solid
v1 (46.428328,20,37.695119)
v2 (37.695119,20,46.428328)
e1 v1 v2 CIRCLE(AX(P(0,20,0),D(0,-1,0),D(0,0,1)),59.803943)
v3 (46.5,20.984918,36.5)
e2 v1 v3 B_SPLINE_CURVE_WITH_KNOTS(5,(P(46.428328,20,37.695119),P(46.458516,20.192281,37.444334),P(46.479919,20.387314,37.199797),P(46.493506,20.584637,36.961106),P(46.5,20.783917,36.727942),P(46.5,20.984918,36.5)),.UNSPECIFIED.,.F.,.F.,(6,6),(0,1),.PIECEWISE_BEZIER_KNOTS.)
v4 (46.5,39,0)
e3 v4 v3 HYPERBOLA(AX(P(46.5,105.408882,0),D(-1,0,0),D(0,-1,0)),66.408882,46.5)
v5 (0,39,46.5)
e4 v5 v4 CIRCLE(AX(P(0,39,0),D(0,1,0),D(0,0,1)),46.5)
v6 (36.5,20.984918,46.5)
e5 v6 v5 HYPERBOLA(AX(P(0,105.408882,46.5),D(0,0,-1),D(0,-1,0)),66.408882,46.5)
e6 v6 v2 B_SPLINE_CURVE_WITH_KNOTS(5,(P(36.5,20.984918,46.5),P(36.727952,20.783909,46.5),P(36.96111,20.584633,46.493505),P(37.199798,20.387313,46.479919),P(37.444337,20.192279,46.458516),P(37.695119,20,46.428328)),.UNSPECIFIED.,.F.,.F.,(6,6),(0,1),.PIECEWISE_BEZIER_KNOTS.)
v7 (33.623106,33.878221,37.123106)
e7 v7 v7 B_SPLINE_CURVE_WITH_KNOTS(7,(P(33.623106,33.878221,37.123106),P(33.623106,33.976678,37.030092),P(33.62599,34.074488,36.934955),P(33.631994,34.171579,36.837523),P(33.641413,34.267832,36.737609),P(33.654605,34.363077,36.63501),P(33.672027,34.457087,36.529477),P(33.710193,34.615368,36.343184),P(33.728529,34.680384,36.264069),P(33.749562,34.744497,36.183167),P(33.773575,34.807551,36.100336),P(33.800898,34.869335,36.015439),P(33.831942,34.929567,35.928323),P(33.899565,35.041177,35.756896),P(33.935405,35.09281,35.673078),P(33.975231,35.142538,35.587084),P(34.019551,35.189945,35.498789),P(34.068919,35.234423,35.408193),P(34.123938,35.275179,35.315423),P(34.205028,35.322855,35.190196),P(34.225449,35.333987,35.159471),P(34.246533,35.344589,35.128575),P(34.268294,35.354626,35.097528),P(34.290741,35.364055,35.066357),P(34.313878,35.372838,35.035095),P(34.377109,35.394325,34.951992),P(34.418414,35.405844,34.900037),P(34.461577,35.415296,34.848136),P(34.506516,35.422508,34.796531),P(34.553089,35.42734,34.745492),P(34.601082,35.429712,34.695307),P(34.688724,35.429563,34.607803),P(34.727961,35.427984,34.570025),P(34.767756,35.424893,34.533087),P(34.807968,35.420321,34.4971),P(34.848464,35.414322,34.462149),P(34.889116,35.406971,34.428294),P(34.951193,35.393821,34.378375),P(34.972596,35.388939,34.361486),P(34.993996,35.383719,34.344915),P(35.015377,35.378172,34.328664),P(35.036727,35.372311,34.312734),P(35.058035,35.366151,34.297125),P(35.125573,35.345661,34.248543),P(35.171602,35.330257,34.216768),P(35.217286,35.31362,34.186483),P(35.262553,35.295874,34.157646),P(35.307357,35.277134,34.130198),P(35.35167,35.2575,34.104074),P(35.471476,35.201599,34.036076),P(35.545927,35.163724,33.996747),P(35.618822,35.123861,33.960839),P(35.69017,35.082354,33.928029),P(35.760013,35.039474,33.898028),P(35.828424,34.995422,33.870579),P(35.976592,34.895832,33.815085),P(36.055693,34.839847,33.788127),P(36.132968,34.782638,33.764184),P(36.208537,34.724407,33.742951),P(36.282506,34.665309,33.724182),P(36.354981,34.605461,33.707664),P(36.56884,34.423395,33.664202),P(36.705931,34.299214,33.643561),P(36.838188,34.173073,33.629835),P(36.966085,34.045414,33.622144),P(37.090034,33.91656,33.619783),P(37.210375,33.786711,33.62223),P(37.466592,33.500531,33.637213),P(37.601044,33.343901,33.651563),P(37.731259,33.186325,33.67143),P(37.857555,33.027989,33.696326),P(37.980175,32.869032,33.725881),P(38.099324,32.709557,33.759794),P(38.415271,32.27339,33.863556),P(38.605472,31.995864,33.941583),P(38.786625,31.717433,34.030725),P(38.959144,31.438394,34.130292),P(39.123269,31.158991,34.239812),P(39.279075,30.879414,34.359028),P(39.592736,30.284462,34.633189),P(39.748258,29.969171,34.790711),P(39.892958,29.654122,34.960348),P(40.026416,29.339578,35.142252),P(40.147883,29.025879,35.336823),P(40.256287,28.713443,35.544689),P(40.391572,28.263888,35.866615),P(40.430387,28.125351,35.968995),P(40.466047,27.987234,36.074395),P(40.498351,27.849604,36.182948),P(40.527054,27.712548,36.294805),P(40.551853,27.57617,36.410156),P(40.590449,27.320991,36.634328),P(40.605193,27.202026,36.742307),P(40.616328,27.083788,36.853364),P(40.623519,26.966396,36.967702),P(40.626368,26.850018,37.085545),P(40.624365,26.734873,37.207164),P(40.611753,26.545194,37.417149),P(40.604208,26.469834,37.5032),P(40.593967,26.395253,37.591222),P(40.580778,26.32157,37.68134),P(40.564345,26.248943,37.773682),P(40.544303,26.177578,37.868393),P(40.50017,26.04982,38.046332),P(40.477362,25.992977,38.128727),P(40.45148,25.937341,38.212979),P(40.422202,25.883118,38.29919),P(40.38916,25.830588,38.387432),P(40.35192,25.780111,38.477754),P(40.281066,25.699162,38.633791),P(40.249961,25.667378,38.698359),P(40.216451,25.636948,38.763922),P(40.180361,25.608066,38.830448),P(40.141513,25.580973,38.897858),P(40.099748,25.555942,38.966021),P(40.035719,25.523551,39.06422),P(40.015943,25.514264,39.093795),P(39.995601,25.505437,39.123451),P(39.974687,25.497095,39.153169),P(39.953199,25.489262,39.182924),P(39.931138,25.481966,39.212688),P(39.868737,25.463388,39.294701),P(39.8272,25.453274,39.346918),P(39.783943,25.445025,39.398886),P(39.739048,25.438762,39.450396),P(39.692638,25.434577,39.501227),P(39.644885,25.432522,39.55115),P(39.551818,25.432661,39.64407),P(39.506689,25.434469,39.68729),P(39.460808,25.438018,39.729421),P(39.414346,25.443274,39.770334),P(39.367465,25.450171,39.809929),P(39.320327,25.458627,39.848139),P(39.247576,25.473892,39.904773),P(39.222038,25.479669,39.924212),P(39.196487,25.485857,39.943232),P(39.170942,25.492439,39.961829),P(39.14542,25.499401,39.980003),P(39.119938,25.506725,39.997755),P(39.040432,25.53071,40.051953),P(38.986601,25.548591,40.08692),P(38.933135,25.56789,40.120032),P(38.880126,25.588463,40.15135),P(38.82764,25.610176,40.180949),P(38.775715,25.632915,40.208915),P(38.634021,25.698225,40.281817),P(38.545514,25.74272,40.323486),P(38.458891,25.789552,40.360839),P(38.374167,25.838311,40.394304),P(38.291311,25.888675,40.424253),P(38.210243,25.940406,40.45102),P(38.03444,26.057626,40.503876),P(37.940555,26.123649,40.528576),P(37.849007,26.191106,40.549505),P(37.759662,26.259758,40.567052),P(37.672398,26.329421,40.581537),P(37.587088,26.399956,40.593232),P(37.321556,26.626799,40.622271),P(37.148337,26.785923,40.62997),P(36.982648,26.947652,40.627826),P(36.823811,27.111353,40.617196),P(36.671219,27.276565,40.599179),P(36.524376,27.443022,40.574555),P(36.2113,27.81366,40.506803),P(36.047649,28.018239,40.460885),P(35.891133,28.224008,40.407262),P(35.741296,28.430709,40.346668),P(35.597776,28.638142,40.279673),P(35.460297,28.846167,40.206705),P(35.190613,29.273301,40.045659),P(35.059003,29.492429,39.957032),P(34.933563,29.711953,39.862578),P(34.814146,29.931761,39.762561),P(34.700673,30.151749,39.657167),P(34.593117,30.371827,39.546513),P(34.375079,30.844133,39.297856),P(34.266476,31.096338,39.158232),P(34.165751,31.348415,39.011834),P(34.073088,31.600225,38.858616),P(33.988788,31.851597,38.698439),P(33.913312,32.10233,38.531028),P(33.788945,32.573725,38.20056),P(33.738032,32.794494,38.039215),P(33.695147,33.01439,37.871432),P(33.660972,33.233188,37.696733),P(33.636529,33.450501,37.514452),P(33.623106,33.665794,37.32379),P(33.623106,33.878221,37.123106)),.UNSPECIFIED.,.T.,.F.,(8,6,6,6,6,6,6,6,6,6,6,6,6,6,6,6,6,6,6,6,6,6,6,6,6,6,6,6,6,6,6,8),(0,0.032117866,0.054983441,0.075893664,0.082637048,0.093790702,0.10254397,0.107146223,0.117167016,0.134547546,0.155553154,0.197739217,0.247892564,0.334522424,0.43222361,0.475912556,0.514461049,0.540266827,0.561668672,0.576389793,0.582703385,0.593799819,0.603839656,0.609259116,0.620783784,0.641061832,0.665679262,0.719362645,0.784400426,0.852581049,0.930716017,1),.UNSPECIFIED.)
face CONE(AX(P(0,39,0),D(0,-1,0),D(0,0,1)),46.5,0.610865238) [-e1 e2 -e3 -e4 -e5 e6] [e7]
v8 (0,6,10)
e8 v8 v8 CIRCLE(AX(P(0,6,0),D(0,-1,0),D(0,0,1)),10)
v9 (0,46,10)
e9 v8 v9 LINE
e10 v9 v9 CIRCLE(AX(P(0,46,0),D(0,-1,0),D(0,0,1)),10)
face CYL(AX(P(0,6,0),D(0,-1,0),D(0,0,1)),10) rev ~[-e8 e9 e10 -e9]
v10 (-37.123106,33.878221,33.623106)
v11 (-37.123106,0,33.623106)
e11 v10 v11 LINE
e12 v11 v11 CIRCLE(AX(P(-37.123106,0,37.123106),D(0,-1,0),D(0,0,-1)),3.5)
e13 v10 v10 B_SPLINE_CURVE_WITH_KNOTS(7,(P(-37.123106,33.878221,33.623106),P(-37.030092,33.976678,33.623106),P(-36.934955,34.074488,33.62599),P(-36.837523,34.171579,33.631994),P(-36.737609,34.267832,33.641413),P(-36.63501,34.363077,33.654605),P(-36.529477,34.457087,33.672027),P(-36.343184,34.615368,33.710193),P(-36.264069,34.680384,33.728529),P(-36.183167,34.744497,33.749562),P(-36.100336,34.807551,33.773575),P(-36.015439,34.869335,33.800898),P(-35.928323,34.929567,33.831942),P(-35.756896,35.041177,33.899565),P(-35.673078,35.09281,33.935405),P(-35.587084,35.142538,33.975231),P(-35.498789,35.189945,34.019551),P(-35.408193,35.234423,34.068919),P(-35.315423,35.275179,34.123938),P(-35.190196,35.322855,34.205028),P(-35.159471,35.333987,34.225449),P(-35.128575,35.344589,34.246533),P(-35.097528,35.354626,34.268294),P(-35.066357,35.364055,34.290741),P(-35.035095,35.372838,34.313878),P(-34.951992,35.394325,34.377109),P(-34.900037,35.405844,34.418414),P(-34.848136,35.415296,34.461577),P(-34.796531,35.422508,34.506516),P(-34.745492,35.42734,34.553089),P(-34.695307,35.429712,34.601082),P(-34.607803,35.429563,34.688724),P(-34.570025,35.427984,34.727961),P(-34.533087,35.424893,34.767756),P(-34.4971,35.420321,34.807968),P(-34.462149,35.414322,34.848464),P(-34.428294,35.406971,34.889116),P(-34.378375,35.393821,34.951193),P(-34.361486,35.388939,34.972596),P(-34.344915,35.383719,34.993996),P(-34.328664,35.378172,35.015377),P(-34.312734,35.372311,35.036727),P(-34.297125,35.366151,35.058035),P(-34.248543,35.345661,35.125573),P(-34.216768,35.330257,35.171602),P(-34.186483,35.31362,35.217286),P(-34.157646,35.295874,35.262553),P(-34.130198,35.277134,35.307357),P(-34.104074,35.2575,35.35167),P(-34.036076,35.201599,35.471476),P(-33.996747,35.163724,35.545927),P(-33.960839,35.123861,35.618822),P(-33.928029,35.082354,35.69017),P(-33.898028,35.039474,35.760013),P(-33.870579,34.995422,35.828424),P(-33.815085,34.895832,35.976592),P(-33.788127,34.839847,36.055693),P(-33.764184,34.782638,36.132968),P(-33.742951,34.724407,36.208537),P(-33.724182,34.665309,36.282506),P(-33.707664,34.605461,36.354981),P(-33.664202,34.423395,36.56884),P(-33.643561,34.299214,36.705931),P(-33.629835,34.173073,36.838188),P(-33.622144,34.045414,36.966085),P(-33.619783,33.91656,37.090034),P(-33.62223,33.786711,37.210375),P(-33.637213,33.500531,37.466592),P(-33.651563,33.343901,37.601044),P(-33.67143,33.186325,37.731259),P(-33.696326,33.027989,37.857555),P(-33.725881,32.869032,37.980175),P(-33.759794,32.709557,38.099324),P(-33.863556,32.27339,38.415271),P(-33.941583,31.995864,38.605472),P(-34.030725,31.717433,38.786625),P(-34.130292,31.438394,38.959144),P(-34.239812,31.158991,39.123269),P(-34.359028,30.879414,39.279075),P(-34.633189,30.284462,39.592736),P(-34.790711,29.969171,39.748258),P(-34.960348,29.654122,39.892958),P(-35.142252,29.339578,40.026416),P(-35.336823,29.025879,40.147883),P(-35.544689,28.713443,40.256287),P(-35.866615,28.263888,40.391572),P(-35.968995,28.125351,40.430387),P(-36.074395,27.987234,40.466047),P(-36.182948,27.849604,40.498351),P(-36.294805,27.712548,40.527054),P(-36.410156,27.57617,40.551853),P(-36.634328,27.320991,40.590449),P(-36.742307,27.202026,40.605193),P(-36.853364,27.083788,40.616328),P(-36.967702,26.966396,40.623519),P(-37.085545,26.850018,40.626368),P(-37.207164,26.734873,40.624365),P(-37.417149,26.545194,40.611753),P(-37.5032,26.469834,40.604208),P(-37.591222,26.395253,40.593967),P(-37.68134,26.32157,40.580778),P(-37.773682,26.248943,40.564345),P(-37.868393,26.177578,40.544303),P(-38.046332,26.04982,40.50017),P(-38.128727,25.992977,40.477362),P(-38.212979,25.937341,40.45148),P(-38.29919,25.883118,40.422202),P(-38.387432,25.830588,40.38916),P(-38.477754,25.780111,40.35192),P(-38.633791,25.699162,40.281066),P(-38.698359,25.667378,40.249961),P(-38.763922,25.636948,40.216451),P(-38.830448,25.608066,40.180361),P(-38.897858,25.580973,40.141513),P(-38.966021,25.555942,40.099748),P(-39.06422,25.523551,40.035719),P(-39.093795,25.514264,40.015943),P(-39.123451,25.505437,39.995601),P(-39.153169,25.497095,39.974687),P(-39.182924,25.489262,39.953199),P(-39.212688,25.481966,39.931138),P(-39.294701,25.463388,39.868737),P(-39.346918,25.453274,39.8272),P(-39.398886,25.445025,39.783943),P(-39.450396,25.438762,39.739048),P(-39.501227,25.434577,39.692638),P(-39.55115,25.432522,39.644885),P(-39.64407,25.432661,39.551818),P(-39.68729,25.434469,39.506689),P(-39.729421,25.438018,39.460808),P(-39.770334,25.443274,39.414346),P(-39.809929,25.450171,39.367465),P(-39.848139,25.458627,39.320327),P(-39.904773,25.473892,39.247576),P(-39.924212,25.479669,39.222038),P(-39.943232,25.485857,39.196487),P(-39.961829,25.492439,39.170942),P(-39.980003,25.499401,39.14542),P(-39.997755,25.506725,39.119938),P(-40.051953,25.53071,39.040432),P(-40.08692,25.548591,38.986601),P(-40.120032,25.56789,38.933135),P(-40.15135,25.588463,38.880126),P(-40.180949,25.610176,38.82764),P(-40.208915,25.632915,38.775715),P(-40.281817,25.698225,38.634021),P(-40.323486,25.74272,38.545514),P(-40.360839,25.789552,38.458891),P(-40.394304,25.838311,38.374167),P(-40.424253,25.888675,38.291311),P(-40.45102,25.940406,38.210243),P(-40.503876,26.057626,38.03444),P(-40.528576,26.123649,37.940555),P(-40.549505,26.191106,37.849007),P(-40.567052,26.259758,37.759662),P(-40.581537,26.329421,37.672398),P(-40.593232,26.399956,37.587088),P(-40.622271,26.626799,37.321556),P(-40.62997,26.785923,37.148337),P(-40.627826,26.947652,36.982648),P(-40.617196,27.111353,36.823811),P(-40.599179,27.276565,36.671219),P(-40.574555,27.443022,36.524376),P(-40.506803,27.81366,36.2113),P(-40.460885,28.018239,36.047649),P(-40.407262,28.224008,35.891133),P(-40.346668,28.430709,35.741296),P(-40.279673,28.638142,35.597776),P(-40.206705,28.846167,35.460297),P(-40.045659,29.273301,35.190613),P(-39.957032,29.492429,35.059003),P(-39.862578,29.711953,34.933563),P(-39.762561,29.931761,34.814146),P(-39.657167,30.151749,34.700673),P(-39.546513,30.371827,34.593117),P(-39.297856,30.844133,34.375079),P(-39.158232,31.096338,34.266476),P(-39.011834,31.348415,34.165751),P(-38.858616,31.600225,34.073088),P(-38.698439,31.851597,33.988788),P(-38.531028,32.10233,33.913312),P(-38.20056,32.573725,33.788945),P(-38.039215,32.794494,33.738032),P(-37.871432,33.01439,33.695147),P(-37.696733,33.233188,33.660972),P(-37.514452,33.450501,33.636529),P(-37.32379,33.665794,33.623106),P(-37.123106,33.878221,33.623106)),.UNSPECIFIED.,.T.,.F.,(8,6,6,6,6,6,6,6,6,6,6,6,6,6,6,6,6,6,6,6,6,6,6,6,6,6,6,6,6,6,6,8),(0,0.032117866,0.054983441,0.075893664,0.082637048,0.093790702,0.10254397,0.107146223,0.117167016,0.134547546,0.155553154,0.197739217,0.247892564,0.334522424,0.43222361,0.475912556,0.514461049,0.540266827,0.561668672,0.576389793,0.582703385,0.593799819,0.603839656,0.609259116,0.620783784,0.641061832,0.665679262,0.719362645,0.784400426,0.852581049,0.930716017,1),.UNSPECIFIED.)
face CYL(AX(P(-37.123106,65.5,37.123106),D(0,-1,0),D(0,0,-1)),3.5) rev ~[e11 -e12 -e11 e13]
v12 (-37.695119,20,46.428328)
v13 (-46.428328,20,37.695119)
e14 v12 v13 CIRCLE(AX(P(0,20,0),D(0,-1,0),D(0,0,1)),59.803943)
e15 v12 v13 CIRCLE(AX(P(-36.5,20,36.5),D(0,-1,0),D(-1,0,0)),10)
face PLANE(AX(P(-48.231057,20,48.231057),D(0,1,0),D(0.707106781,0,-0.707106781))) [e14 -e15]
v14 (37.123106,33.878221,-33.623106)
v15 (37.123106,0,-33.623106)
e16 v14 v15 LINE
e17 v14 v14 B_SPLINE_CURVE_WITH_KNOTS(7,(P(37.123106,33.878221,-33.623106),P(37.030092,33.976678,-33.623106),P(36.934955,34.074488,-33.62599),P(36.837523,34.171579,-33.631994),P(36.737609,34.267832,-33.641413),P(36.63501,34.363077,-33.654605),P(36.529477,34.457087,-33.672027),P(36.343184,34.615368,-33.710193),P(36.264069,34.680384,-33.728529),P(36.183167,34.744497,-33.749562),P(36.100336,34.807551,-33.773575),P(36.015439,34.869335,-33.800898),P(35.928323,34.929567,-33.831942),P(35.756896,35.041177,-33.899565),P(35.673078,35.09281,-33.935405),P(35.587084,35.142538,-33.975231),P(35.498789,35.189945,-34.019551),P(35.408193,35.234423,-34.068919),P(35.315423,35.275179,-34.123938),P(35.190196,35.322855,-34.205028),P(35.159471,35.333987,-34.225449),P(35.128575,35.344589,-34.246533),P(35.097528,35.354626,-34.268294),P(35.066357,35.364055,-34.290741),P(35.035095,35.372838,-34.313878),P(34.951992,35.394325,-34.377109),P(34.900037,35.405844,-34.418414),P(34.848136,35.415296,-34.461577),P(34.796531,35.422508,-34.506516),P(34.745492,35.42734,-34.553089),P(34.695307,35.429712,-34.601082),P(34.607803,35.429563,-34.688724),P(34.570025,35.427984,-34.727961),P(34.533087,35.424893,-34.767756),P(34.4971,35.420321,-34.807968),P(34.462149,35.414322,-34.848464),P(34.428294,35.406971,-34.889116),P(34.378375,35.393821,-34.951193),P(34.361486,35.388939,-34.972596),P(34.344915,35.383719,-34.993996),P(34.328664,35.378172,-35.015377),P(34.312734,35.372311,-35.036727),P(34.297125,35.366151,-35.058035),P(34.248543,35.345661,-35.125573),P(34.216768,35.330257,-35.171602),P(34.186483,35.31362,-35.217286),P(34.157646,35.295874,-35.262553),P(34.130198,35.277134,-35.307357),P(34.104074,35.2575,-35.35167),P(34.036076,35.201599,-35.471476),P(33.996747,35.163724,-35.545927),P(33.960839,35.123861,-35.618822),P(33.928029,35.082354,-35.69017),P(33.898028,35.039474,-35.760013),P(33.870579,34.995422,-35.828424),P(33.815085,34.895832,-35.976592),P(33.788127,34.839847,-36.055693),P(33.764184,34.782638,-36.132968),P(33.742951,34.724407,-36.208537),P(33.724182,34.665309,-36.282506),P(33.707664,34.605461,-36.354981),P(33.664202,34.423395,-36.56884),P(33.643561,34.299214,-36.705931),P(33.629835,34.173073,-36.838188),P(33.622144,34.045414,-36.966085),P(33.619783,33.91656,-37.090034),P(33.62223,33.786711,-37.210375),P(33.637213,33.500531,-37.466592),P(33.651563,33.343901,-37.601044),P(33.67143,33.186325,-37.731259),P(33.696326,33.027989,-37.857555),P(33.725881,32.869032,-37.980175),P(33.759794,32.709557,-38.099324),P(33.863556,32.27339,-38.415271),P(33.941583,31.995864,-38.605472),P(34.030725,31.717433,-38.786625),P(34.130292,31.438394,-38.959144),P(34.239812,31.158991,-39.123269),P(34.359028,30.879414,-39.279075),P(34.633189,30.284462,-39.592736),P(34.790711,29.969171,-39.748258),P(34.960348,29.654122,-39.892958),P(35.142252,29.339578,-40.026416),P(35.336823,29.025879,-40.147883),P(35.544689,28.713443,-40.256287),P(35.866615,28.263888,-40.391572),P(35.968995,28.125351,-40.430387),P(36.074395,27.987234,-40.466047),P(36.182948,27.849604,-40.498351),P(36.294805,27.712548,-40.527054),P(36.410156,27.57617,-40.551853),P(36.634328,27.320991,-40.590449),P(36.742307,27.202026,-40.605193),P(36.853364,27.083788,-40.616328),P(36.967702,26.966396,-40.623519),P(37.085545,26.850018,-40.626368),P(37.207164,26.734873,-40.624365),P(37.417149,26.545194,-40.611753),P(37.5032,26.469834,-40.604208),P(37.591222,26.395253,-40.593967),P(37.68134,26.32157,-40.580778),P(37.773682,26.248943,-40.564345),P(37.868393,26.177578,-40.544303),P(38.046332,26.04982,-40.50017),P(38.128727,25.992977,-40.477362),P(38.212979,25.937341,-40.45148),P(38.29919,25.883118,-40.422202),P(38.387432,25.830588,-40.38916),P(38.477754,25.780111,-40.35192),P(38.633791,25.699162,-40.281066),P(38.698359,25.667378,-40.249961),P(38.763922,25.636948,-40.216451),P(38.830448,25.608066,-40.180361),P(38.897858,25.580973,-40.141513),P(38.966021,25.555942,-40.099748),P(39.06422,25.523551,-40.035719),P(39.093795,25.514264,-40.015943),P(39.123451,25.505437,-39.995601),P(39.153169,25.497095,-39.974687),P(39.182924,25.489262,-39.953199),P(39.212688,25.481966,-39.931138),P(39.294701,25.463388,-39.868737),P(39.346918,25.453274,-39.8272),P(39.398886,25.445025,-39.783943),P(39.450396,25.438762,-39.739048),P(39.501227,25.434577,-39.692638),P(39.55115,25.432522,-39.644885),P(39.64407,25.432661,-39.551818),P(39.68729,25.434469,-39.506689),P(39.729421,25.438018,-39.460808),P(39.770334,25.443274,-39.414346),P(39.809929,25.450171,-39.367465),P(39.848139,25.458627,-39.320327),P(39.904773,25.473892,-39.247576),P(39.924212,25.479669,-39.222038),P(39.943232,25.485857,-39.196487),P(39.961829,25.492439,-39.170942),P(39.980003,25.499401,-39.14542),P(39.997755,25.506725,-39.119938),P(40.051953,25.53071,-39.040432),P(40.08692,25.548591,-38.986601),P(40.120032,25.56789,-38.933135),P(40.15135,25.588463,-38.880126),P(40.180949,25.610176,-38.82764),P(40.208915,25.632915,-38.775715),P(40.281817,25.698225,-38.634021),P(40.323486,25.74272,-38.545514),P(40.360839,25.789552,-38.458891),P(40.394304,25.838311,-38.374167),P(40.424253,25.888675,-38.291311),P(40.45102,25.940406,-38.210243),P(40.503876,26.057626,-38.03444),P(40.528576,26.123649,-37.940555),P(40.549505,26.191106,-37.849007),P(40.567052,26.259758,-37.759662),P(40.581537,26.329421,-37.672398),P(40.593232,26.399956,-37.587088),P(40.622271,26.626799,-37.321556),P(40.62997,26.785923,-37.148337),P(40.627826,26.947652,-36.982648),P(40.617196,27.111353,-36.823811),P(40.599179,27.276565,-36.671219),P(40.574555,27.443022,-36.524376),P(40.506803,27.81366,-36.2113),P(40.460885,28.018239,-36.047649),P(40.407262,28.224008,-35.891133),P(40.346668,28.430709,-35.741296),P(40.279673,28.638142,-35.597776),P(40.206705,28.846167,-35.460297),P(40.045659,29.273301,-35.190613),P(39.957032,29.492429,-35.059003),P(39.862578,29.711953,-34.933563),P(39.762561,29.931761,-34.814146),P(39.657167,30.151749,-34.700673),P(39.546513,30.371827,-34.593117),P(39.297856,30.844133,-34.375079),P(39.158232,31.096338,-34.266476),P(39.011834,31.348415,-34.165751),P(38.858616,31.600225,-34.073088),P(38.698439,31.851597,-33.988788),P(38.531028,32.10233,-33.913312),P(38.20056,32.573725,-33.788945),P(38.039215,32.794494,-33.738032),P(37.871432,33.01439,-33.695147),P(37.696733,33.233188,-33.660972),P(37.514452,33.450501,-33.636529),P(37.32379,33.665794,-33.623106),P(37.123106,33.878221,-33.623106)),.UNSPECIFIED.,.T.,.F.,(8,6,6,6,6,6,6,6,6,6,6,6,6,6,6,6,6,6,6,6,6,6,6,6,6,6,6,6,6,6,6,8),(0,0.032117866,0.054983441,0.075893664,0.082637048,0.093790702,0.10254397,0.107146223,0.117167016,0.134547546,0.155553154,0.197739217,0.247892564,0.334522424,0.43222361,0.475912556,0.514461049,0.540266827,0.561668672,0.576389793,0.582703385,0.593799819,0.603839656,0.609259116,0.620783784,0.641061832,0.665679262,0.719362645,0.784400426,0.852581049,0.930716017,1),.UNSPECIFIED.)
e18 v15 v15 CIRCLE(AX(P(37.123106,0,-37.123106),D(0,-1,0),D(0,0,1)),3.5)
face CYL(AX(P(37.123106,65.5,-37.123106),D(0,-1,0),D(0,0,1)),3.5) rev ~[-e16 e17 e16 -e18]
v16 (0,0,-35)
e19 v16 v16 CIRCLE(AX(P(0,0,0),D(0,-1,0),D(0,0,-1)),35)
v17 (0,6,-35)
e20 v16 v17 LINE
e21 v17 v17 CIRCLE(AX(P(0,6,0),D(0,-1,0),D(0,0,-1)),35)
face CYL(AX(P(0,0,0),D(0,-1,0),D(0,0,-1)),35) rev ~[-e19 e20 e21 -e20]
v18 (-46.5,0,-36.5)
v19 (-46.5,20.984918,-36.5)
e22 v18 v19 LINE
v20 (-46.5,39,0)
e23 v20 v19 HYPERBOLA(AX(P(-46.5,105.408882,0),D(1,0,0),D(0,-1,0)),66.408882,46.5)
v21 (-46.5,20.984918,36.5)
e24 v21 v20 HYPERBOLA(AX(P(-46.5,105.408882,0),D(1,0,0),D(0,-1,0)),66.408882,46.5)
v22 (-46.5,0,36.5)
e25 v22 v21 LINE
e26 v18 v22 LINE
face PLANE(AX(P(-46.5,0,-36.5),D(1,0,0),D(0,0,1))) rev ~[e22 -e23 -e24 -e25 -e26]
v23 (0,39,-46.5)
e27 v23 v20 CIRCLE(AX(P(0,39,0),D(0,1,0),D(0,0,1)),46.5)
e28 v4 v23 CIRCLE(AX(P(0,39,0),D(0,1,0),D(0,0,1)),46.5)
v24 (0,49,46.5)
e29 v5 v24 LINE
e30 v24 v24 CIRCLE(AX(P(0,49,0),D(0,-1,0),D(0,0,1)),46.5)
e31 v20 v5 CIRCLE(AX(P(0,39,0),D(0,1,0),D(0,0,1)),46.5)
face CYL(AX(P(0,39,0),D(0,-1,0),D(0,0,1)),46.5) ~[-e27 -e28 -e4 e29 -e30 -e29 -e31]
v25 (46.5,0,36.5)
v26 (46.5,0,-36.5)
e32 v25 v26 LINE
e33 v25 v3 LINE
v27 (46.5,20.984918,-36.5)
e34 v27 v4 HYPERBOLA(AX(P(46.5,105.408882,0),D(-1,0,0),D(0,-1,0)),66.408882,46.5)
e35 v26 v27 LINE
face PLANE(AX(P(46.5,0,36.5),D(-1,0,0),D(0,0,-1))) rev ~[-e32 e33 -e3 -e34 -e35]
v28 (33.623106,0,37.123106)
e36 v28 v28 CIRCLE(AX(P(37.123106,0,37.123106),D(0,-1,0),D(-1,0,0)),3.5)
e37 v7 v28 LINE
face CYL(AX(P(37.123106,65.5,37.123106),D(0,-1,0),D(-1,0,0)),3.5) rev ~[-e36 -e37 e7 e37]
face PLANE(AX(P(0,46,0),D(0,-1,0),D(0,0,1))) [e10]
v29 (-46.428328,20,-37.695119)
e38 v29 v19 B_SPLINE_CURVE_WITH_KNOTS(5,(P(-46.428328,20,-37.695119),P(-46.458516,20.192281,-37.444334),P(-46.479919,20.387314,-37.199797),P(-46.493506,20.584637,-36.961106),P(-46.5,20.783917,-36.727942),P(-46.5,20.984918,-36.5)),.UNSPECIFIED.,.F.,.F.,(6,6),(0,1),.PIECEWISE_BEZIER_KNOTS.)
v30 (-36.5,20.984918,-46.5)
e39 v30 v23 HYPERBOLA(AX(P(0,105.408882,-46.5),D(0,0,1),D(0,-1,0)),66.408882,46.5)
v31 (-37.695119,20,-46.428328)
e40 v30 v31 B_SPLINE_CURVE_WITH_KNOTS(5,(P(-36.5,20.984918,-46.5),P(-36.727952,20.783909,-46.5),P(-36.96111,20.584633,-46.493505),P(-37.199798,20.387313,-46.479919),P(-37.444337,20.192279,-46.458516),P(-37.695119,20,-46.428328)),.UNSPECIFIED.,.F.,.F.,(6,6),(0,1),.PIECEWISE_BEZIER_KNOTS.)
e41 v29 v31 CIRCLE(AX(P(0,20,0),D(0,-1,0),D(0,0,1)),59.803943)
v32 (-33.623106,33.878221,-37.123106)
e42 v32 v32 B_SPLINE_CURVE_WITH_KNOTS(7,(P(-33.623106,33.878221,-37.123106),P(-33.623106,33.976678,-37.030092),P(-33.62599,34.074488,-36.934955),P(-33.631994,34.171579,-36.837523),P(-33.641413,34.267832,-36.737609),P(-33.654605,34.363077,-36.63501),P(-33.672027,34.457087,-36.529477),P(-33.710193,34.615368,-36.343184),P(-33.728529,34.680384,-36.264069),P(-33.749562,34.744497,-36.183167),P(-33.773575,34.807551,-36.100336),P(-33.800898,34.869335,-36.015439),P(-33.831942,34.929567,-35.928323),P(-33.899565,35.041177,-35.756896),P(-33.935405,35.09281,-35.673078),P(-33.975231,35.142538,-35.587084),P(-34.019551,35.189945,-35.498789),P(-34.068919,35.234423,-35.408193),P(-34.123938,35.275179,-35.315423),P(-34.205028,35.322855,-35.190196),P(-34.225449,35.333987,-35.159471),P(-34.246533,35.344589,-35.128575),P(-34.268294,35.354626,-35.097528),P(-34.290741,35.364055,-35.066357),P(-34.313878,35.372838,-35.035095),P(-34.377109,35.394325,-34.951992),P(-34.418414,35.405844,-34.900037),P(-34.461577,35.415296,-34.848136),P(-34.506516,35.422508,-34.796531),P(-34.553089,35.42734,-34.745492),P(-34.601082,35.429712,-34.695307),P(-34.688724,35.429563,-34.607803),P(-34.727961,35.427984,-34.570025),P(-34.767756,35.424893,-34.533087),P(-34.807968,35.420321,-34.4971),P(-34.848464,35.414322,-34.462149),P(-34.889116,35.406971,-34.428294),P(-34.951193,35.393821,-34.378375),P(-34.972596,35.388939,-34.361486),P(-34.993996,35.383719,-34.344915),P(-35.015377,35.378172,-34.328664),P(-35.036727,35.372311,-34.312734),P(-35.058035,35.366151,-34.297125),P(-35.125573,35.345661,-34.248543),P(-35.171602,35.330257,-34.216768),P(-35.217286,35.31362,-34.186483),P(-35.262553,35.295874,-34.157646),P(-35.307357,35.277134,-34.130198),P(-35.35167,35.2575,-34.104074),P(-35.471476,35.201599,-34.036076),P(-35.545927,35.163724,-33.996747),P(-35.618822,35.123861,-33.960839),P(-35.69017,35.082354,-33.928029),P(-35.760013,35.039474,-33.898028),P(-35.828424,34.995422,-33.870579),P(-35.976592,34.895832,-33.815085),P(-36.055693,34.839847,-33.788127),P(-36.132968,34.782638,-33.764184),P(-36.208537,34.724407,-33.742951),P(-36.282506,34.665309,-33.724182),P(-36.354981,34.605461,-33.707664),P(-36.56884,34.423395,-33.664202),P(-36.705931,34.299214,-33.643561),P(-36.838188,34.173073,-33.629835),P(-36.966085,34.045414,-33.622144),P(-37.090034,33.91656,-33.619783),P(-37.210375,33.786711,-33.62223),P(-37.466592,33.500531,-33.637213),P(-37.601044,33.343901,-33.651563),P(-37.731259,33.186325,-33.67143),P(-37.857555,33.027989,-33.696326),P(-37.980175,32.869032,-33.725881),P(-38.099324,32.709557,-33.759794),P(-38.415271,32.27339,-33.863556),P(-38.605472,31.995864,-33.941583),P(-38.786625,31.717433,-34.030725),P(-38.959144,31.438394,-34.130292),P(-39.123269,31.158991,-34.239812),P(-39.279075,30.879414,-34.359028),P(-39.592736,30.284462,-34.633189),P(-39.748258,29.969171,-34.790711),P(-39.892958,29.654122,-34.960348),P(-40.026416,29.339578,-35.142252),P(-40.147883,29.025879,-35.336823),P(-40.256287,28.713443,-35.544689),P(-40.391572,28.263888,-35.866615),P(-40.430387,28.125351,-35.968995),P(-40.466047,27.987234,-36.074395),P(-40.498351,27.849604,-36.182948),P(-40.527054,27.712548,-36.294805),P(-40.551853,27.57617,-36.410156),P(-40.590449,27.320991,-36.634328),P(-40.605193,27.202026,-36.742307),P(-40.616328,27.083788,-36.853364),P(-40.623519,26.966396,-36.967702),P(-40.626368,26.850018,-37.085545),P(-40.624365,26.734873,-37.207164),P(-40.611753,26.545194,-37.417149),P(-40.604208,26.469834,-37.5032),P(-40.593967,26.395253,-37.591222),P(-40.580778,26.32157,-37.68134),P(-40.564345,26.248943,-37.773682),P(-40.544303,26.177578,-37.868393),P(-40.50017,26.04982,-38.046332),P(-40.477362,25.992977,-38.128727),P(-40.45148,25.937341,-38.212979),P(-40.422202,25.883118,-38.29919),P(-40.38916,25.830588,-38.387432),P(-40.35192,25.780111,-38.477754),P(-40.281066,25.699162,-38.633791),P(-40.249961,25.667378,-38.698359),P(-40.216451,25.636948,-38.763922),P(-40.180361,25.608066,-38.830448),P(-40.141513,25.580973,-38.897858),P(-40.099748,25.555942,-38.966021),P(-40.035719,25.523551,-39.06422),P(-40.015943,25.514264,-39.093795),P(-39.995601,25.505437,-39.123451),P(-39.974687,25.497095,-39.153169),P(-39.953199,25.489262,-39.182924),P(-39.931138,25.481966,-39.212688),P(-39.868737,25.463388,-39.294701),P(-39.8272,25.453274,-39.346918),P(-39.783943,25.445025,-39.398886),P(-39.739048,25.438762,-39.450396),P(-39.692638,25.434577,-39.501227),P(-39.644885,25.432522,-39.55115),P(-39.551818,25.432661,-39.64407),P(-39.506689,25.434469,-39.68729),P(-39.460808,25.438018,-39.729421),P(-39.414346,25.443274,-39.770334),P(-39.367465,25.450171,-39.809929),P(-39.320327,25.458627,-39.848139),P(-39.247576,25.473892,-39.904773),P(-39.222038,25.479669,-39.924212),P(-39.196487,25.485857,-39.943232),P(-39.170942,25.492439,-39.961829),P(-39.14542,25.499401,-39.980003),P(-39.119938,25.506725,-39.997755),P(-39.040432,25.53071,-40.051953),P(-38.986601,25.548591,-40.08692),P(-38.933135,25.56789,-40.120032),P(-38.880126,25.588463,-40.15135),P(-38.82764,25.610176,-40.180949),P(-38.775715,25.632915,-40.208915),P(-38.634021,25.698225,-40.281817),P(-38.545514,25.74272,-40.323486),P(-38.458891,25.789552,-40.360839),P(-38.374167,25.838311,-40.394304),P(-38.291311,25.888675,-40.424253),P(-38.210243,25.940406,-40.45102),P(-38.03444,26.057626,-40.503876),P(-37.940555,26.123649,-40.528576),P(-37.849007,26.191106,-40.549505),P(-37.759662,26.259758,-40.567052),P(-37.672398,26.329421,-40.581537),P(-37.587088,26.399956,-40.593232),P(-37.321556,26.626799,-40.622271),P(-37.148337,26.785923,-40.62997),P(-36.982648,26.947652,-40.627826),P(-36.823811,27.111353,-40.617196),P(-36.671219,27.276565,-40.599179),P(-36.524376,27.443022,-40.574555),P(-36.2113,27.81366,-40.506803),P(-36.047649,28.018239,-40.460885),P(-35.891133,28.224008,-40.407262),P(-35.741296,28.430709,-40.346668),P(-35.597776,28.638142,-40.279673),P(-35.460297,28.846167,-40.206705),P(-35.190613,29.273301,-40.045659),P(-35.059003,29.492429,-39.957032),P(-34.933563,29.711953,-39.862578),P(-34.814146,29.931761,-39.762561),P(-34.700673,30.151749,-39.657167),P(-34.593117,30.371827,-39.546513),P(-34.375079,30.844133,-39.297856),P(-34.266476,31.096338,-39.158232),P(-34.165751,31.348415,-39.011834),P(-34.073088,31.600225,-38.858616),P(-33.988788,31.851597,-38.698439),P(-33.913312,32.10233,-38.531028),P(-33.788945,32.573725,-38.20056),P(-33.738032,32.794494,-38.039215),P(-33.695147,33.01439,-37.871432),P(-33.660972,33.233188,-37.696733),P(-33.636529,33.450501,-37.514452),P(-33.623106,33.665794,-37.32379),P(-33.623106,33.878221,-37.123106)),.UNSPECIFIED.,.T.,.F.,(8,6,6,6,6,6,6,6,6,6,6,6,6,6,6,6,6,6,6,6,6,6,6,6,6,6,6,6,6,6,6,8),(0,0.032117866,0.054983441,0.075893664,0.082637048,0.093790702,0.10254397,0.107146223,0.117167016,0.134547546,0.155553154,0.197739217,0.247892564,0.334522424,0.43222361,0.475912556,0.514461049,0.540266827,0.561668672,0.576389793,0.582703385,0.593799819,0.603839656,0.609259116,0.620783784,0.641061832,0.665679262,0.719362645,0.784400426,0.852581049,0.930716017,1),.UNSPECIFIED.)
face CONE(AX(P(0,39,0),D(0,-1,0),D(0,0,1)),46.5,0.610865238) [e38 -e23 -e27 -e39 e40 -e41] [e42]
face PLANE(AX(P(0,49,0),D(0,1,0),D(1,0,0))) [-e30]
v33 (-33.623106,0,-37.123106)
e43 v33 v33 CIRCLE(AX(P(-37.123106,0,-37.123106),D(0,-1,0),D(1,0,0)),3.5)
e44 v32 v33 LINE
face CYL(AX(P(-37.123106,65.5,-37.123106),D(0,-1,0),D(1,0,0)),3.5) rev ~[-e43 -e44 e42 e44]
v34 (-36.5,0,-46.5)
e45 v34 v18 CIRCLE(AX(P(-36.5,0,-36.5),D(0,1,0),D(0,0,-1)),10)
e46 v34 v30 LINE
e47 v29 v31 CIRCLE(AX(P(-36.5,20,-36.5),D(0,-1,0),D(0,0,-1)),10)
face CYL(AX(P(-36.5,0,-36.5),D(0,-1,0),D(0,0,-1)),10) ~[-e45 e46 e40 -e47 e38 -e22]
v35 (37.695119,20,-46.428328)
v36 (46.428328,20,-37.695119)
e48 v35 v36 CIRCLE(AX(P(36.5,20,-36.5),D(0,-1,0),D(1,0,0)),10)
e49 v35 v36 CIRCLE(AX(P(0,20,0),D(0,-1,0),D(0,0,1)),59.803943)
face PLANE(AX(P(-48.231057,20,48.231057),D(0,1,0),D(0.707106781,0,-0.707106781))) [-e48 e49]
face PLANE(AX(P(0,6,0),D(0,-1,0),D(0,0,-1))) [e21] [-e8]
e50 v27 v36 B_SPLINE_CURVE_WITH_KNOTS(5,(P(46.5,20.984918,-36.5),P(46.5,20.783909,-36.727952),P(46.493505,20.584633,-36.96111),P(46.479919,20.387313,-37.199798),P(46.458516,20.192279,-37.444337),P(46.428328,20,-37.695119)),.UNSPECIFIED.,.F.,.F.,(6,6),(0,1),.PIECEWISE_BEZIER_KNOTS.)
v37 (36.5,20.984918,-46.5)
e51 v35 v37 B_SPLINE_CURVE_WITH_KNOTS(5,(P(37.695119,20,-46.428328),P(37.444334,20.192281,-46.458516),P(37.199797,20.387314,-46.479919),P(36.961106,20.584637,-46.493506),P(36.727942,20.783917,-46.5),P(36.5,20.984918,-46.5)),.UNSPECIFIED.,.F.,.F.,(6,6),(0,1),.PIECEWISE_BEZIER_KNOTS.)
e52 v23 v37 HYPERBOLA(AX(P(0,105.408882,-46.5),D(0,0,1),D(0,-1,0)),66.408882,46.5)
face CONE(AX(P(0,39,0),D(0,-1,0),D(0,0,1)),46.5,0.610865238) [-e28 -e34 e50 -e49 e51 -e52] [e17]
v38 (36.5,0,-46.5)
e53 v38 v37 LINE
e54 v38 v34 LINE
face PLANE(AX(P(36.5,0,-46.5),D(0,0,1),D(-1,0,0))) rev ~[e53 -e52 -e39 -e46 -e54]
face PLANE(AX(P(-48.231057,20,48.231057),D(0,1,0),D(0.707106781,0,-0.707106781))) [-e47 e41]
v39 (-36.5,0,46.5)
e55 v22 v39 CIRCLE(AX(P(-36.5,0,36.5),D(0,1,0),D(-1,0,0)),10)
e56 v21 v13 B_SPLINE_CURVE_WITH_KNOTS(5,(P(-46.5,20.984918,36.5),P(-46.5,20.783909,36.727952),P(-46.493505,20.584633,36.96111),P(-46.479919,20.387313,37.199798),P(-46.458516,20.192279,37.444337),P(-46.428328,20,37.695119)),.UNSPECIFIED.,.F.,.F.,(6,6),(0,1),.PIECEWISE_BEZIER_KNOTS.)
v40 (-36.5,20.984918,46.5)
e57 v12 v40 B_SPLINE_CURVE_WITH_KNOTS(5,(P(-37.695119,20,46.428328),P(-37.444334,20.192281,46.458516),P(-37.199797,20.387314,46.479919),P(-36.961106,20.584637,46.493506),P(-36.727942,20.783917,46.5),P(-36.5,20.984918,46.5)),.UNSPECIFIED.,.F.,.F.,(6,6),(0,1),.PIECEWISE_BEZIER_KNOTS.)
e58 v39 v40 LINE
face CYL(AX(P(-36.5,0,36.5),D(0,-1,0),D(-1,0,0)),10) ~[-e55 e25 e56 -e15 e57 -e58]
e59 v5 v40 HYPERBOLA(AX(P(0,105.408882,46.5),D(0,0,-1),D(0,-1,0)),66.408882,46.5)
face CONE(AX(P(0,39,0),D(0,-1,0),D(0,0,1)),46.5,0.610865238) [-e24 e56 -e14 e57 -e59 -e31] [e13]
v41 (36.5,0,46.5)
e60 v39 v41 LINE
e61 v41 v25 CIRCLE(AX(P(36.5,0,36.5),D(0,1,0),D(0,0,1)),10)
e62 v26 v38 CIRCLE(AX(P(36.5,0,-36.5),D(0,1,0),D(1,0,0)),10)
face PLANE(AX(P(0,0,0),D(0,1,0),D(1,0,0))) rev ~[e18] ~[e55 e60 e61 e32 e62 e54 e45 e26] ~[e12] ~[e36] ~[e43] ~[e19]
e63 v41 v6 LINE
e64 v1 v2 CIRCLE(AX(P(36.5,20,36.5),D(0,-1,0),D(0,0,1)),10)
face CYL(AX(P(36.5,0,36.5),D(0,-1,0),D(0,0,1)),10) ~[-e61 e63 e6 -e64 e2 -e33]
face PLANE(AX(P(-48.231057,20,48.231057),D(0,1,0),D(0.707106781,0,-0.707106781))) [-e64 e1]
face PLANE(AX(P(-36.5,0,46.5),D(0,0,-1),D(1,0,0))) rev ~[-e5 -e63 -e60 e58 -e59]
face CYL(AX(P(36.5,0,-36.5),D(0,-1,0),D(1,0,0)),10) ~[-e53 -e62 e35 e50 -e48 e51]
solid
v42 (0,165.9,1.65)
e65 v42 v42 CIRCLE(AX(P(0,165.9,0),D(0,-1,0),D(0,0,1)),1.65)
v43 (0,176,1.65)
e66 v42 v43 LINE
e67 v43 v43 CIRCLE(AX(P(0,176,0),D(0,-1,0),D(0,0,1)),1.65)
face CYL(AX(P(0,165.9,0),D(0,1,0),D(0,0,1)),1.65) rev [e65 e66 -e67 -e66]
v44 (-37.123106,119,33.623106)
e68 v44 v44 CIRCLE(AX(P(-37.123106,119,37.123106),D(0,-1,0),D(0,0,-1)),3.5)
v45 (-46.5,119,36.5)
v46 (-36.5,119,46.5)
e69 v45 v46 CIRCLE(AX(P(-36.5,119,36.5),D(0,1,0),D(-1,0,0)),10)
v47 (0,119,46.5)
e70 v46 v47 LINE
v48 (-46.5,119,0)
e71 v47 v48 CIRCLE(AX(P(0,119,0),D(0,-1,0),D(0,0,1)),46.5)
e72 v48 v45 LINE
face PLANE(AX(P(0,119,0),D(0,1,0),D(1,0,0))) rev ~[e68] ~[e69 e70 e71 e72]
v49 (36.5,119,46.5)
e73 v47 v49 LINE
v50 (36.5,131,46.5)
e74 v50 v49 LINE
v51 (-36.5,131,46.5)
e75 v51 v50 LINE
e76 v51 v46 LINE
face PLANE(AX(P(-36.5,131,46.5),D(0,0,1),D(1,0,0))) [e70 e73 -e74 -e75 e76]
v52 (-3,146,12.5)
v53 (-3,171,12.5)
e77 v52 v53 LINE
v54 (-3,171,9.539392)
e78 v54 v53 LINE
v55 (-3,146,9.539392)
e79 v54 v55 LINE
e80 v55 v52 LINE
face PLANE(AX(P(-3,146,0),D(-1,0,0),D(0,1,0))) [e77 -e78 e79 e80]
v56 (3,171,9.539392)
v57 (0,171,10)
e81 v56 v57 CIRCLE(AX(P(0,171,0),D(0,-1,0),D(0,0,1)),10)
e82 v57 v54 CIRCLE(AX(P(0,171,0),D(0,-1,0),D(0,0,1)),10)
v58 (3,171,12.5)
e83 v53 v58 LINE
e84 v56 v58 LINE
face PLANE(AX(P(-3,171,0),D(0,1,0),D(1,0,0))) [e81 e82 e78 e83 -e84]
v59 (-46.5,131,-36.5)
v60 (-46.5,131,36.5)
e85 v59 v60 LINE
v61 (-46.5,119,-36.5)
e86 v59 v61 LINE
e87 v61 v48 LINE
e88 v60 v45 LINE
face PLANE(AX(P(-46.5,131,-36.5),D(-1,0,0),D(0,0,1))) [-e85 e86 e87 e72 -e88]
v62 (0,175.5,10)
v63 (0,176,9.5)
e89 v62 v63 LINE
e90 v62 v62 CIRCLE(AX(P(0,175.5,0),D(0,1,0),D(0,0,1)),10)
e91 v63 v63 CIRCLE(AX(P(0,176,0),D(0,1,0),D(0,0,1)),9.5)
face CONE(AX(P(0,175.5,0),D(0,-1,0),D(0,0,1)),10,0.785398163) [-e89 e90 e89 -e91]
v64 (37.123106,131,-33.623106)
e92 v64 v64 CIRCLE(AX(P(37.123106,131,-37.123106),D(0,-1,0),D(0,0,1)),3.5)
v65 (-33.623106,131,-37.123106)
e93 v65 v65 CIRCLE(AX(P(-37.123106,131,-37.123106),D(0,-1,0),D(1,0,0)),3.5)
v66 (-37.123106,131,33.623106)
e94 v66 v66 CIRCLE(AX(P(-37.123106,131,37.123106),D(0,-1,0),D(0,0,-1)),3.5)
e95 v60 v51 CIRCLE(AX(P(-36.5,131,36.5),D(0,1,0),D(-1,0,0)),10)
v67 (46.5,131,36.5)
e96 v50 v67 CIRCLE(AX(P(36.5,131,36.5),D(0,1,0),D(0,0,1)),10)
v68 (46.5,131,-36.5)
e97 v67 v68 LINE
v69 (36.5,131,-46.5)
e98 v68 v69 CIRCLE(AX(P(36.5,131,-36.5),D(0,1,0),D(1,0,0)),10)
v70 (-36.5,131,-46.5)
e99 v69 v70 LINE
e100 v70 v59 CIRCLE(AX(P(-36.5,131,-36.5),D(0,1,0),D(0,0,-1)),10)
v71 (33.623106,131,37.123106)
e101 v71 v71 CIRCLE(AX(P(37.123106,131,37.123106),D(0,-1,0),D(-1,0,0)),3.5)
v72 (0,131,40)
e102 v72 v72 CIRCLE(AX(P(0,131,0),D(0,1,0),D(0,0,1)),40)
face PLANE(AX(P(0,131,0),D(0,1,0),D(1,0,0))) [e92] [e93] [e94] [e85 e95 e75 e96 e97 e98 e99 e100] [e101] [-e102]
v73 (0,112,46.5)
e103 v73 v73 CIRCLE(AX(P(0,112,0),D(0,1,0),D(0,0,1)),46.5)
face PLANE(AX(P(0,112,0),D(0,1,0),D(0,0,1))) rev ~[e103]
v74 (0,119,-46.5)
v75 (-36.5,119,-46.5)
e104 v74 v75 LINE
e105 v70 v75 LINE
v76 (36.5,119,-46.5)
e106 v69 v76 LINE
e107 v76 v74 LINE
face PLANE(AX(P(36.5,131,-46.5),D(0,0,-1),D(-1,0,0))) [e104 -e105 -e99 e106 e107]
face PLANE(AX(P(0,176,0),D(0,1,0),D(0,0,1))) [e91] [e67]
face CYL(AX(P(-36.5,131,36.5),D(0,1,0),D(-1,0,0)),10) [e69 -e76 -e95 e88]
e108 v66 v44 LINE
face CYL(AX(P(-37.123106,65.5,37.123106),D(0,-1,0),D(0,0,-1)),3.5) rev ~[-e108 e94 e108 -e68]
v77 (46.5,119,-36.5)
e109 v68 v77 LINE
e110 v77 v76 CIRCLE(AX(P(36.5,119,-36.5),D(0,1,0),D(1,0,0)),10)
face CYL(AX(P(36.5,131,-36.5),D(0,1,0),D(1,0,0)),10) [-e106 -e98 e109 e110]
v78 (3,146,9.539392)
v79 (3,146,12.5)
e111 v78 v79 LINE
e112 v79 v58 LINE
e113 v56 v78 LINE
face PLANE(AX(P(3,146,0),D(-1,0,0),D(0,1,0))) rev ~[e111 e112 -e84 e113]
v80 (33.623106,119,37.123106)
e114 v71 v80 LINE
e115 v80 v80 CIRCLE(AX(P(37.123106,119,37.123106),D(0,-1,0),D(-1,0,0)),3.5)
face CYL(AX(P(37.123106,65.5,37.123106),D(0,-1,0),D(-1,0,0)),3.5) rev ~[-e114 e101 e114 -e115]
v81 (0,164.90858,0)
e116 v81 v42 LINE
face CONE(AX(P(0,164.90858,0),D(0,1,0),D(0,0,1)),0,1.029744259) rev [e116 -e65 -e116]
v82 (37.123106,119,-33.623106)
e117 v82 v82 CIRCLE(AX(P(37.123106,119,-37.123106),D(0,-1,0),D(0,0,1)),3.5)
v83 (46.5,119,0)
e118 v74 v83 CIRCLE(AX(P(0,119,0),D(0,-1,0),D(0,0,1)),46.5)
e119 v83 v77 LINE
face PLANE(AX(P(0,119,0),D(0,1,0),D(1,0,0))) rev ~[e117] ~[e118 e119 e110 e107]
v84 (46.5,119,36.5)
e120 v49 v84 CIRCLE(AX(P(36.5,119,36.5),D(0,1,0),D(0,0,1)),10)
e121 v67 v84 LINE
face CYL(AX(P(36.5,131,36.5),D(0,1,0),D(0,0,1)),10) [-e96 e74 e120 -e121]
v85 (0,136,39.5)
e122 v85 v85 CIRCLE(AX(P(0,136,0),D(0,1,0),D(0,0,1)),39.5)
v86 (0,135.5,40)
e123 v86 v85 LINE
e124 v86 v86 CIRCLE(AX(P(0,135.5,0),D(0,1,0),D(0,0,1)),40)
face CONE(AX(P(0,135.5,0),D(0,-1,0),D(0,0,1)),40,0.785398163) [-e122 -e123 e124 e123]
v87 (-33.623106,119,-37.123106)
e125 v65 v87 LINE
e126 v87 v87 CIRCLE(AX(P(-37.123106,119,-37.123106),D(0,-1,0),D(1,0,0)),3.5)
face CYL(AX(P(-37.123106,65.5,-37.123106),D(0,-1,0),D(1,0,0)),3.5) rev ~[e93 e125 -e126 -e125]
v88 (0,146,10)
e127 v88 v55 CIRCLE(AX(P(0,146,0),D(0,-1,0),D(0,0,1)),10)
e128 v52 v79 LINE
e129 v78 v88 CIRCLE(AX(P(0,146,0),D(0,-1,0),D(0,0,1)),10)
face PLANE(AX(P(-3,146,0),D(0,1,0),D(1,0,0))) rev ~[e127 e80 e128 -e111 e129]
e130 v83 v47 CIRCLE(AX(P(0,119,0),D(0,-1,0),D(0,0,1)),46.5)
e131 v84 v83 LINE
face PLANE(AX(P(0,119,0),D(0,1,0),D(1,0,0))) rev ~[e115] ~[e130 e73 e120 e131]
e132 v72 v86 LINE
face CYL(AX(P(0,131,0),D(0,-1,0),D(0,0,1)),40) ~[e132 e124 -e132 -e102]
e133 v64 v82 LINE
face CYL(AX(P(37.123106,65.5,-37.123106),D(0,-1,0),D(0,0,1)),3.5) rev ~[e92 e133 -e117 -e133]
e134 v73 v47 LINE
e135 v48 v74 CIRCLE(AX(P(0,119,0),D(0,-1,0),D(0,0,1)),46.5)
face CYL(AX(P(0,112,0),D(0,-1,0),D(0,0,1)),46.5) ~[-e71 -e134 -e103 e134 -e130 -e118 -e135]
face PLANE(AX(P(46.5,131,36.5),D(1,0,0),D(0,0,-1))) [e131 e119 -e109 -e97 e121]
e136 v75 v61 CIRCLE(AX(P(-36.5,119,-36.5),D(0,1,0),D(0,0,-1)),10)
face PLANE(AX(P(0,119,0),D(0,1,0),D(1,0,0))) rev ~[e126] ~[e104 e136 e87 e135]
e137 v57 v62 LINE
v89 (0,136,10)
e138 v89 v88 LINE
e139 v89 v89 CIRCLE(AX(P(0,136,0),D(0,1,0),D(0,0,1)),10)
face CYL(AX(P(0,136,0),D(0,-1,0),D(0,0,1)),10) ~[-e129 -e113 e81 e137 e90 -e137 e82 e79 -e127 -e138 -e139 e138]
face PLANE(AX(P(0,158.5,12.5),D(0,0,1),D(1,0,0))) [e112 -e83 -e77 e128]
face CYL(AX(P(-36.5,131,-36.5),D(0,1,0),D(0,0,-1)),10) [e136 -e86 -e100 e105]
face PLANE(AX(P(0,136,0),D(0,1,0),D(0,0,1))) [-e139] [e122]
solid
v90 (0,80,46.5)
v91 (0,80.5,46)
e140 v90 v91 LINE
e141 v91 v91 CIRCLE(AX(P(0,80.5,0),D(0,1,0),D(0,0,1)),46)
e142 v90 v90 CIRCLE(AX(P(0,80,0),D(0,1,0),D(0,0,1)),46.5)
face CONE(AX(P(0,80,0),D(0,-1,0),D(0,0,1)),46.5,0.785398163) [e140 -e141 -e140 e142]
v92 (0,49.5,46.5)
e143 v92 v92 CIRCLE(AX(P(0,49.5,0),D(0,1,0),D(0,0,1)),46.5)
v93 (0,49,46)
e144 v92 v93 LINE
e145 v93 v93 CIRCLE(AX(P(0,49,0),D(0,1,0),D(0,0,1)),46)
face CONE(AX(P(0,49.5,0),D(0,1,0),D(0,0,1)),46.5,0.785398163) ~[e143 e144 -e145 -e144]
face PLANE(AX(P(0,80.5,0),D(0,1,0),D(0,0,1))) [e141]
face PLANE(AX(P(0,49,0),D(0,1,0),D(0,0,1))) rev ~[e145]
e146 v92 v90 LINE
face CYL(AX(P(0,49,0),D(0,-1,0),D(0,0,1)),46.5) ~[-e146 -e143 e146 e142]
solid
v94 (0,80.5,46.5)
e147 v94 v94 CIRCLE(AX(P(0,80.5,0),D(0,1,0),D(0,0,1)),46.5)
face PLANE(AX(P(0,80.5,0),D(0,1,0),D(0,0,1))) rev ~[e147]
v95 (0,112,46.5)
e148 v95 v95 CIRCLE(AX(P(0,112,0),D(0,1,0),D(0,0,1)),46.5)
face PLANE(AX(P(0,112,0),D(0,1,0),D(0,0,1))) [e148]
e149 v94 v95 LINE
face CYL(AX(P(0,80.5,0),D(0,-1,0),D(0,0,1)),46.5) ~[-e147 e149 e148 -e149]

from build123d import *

# Parameters (mm, degrees)
EXTRUDE_1_DEPTH               = 49
CUT_EXTRUDE_START             = -10
SKETCH_2_OUTSIDE_W            = 123.07
SKETCH_2_OUTSIDE_H            = 123.07
SKETCH_2_OUTSIDE_R            = 46.5
CUT_EXTRUDE_3_DEPTH           = 10
CUT_EXTRUDE_3_OTHER_WAY_DEPTH = 19
CUT_EXTRUDE_3_OTHER_WAY_TAPER = 35
SKETCH_3_R                    = 46.5
EXTRUDE_2_DEPTH               = 31.5
SKETCH_18_R                   = 46.5
EXTRUDE_9_DEPTH               = 31.5
SKETCH_4_R                    = 46.5
EXTRUDE_3_DEPTH               = 19
CHAMFER_1_SIZE                = 0.5
SKETCH_6_R                    = 40
EXTRUDE_5_DEPTH               = 5
SKETCH_7_R                    = 10
EXTRUDE_6_DEPTH               = 40
CHAMFER_2_SIZE                = 0.5
SKETCH_10_W                   = 6
SKETCH_10_H                   = 25
EXTRUDE_7_DEPTH               = 12.5
SKETCH_11_R                   = 35
CUT_EXTRUDE_4_DEPTH           = 6
SKETCH_12_R                   = 10
CUT_EXTRUDE_5_DEPTH           = 40
SKETCH_15_R                   = 44.756471123
EXTRUDE_8_DEPTH               = 12
SKETCH_16_W                   = 3.5
SKETCH_16_H                   = 131
PATTERN_CIRCULAR_1_COUNT      = 4


with BuildPart() as part:
    # 草圖1 → 填料-伸長1 (new body)
    with BuildSketch(Plane(origin=(0, 0, 0), x_dir=(1, 0, 0), z_dir=(0, 1, 0))):
        with BuildLine():
            Line((-36.5, -46.5), (36.5, -46.5))
            ThreePointArc((36.5, -46.5), (43.571067812, -43.571067812), (46.5, -36.5))
            Line((46.5, -36.5), (46.5, 36.5))
            ThreePointArc((46.5, 36.5), (43.571067812, 43.571067812), (36.5, 46.5))
            Line((36.5, 46.5), (-36.5, 46.5))
            ThreePointArc((-36.5, 46.5), (-43.571067812, 43.571067812), (-46.5, 36.5))
            Line((-46.5, 36.5), (-46.5, -36.5))
            ThreePointArc((-46.5, -36.5), (-43.571067812, -43.571067812), (-36.5, -46.5))
        make_face()
    extrude(amount=EXTRUDE_1_DEPTH)

    # 草圖2 outside → 除料-伸長3 (cut)
    with BuildSketch(Plane(origin=(0, 49, 0), x_dir=(1, 0, 0), z_dir=(0, 1, 0)).offset(CUT_EXTRUDE_START)):
        Rectangle(SKETCH_2_OUTSIDE_W, SKETCH_2_OUTSIDE_H)
        with Locations(Location((0, 0, 0), (0, 0, 270))):  # turned: the seam where the file's is
            Circle(SKETCH_2_OUTSIDE_R, mode=Mode.SUBTRACT)
    extrude(amount=CUT_EXTRUDE_3_DEPTH, mode=Mode.SUBTRACT)

    # 草圖2 outside → 除料-伸長3 other way (cut)
    with BuildSketch(Plane(origin=(0, 49, 0), x_dir=(1, 0, 0), z_dir=(0, 1, 0)).offset(CUT_EXTRUDE_START)):
        Rectangle(SKETCH_2_OUTSIDE_W, SKETCH_2_OUTSIDE_H)
        with Locations(Location((0, 0, 0), (0, 0, 270))):  # turned: the seam where the file's is
            Circle(SKETCH_2_OUTSIDE_R, mode=Mode.SUBTRACT)
    extrude(amount=-CUT_EXTRUDE_3_OTHER_WAY_DEPTH, taper=CUT_EXTRUDE_3_OTHER_WAY_TAPER, mode=Mode.SUBTRACT)

    # 草圖11 → 除料-伸長4 (cut)
    with BuildSketch(Plane.XZ):
        with Locations(Location((0, 0, 0), (0, 0, 270))):  # turned: the seam where the file's is
            Circle(SKETCH_11_R)
    extrude(amount=-CUT_EXTRUDE_4_DEPTH, mode=Mode.SUBTRACT)

    # 草圖12 → 除料-伸長5 (cut)
    with BuildSketch(Plane.XZ.offset(-6)):
        with Locations(Location((0, 0, 0), (0, 0, 90))):  # turned: the seam where the file's is
            Circle(SKETCH_12_R)
    extrude(amount=-CUT_EXTRUDE_5_DEPTH, mode=Mode.SUBTRACT)


with BuildPart() as body_2:
    # 草圖3 → 填料-伸長2 (new body)
    with BuildSketch(Plane(origin=(0, 49, 0), x_dir=(1, 0, 0), z_dir=(0, 1, 0))):
        with Locations(Location((0, 0, 0), (0, 0, 270))):  # turned: the seam where the file's is
            Circle(SKETCH_3_R)
    extrude(amount=EXTRUDE_2_DEPTH)

    # 導角1
    chamfer_1_edges = [body_2.edges().sort_by_distance(p)[0] for p in [
        (0, 49, -46.5),
        (0, 80.5, -46.5),
    ]]
    chamfer(chamfer_1_edges, length=CHAMFER_1_SIZE)


with BuildPart() as body_3:
    # 草圖18 → 填料-伸長9 (new body)
    with BuildSketch(Plane(origin=(0, 80.5, 0), x_dir=(1, 0, 0), z_dir=(0, 1, 0))):
        with Locations(Location((0, 0, 0), (0, 0, 270))):  # turned: the seam where the file's is
            Circle(SKETCH_18_R)
    extrude(amount=EXTRUDE_9_DEPTH)


with BuildPart() as body_4:
    # 草圖4 → 填料-伸長3 (new body)
    with BuildSketch(Plane(origin=(0, 112, 0), x_dir=(1, 0, 0), z_dir=(0, 1, 0))):
        with Locations(Location((0, 0, 0), (0, 0, 270))):  # turned: the seam where the file's is
            Circle(SKETCH_4_R)
    extrude(amount=EXTRUDE_3_DEPTH)

    # 草圖6 → 填料-伸長5 (add)
    with BuildSketch(Plane(origin=(0, 131, 0), x_dir=(1, 0, 0), z_dir=(0, 1, 0))):
        with Locations(Location((0, 0, 0), (0, 0, 270))):  # turned: the seam where the file's is
            Circle(SKETCH_6_R)
    extrude(amount=EXTRUDE_5_DEPTH)

    # 草圖7 → 填料-伸長6 (add)
    with BuildSketch(Plane(origin=(0, 136, 0), x_dir=(1, 0, 0), z_dir=(0, 1, 0))):
        with Locations(Location((0, 0, 0), (0, 0, 270))):  # turned: the seam where the file's is
            Circle(SKETCH_7_R)
    extrude(amount=EXTRUDE_6_DEPTH)

    # 導角2
    chamfer_2_edges = [body_4.edges().sort_by_distance(p)[0] for p in [
        (0, 176, -10),
        (0, 131, -46.5),
        (0, 136, -40),
    ]]
    chamfer(chamfer_2_edges, length=CHAMFER_2_SIZE)

    # 草圖10 → 填料-伸長7 (add)
    with BuildSketch(Plane.XY):
        with Locations((0, 158.5)):
            Rectangle(SKETCH_10_W, SKETCH_10_H)
    extrude(amount=EXTRUDE_7_DEPTH)

    # 草圖13 → M4x0.7 螺紋孔1 (revolve, cut)
    with BuildSketch(Plane(origin=(0, 176, 0), x_dir=(0, 0, 1), z_dir=(1, 0, 0))):
        Polygon((0, 0), (0, 11.091420021), (1.65, 10.1), (1.65, 0), align=None)
    revolve(axis=Axis((0, 182.35, 0), (0, -1, 0)), mode=Mode.SUBTRACT)

    # 草圖15 → 填料-伸長8 (add)
    with BuildSketch(Plane(origin=(0, 131, 0), x_dir=(1, 0, 0), z_dir=(0, 1, 0))):
        with BuildLine():
            Line((-36.5, -46.5), (36.5, -46.5))
            ThreePointArc((36.5, -46.5), (43.571067812, -43.571067812), (46.5, -36.5))
            Line((46.5, -36.5), (46.5, 36.5))
            ThreePointArc((46.5, 36.5), (43.571067812, 43.571067812), (36.5, 46.5))
            Line((36.5, 46.5), (-36.5, 46.5))
            ThreePointArc((-36.5, 46.5), (-43.571067812, 43.571067812), (-46.5, 36.5))
            Line((-46.5, 36.5), (-46.5, -36.5))
            ThreePointArc((-46.5, -36.5), (-43.571067812, -43.571067812), (-36.5, -46.5))
        make_face()
        Circle(SKETCH_15_R, mode=Mode.SUBTRACT)
    extrude(amount=-EXTRUDE_8_DEPTH)


with BuildPart() as hole_wizard_7_0_7_3_tool:
    # 草圖16 → Ø7.0 (7) 直徑孔3 (revolve)
    with BuildSketch(Plane(origin=(37.123106012, 131, -37.123106012), x_dir=(0, 0, 1), z_dir=(1, 0, 0))):
        with Locations((1.75, 65.5)):
            Rectangle(SKETCH_16_W, SKETCH_16_H)
    hole_wizard_7_0_7_3 = revolve(axis=Axis((37.123106012, 137.35, -37.123106012), (0, -1, 0)))


with BuildPart() as part_1:
    add(part.part)

    # Ø7.0 (7) 直徑孔3: cut by hole_wizard_7_0_7_3_tool
    add(hole_wizard_7_0_7_3_tool.part, mode=Mode.SUBTRACT)


with BuildPart() as body_4_1:
    add(body_4.part)

    # Ø7.0 (7) 直徑孔3: cut by hole_wizard_7_0_7_3_tool
    add(hole_wizard_7_0_7_3_tool.part, mode=Mode.SUBTRACT)


with BuildPart() as pattern_circular_1_tool:
    # 環狀複製排列1: Ø7.0 (7) 直徑孔3 ×4 about axis
    pattern_circular_1_axis = Axis((0, 0, 0), (0, 1, 0))
    for i in range(1, PATTERN_CIRCULAR_1_COUNT):
        add(hole_wizard_7_0_7_3.rotate(pattern_circular_1_axis, i * 360 / PATTERN_CIRCULAR_1_COUNT))


with BuildPart() as part_2:
    add(part_1.part)

    # 環狀複製排列1: cut by pattern_circular_1_tool
    add(pattern_circular_1_tool.part, mode=Mode.SUBTRACT)


with BuildPart() as body_4_2:
    add(body_4_1.part)

    # 環狀複製排列1: cut by pattern_circular_1_tool
    add(pattern_circular_1_tool.part, mode=Mode.SUBTRACT)


solid = Compound([body_2.part, body_3.part, part_2.part, body_4_2.part])
